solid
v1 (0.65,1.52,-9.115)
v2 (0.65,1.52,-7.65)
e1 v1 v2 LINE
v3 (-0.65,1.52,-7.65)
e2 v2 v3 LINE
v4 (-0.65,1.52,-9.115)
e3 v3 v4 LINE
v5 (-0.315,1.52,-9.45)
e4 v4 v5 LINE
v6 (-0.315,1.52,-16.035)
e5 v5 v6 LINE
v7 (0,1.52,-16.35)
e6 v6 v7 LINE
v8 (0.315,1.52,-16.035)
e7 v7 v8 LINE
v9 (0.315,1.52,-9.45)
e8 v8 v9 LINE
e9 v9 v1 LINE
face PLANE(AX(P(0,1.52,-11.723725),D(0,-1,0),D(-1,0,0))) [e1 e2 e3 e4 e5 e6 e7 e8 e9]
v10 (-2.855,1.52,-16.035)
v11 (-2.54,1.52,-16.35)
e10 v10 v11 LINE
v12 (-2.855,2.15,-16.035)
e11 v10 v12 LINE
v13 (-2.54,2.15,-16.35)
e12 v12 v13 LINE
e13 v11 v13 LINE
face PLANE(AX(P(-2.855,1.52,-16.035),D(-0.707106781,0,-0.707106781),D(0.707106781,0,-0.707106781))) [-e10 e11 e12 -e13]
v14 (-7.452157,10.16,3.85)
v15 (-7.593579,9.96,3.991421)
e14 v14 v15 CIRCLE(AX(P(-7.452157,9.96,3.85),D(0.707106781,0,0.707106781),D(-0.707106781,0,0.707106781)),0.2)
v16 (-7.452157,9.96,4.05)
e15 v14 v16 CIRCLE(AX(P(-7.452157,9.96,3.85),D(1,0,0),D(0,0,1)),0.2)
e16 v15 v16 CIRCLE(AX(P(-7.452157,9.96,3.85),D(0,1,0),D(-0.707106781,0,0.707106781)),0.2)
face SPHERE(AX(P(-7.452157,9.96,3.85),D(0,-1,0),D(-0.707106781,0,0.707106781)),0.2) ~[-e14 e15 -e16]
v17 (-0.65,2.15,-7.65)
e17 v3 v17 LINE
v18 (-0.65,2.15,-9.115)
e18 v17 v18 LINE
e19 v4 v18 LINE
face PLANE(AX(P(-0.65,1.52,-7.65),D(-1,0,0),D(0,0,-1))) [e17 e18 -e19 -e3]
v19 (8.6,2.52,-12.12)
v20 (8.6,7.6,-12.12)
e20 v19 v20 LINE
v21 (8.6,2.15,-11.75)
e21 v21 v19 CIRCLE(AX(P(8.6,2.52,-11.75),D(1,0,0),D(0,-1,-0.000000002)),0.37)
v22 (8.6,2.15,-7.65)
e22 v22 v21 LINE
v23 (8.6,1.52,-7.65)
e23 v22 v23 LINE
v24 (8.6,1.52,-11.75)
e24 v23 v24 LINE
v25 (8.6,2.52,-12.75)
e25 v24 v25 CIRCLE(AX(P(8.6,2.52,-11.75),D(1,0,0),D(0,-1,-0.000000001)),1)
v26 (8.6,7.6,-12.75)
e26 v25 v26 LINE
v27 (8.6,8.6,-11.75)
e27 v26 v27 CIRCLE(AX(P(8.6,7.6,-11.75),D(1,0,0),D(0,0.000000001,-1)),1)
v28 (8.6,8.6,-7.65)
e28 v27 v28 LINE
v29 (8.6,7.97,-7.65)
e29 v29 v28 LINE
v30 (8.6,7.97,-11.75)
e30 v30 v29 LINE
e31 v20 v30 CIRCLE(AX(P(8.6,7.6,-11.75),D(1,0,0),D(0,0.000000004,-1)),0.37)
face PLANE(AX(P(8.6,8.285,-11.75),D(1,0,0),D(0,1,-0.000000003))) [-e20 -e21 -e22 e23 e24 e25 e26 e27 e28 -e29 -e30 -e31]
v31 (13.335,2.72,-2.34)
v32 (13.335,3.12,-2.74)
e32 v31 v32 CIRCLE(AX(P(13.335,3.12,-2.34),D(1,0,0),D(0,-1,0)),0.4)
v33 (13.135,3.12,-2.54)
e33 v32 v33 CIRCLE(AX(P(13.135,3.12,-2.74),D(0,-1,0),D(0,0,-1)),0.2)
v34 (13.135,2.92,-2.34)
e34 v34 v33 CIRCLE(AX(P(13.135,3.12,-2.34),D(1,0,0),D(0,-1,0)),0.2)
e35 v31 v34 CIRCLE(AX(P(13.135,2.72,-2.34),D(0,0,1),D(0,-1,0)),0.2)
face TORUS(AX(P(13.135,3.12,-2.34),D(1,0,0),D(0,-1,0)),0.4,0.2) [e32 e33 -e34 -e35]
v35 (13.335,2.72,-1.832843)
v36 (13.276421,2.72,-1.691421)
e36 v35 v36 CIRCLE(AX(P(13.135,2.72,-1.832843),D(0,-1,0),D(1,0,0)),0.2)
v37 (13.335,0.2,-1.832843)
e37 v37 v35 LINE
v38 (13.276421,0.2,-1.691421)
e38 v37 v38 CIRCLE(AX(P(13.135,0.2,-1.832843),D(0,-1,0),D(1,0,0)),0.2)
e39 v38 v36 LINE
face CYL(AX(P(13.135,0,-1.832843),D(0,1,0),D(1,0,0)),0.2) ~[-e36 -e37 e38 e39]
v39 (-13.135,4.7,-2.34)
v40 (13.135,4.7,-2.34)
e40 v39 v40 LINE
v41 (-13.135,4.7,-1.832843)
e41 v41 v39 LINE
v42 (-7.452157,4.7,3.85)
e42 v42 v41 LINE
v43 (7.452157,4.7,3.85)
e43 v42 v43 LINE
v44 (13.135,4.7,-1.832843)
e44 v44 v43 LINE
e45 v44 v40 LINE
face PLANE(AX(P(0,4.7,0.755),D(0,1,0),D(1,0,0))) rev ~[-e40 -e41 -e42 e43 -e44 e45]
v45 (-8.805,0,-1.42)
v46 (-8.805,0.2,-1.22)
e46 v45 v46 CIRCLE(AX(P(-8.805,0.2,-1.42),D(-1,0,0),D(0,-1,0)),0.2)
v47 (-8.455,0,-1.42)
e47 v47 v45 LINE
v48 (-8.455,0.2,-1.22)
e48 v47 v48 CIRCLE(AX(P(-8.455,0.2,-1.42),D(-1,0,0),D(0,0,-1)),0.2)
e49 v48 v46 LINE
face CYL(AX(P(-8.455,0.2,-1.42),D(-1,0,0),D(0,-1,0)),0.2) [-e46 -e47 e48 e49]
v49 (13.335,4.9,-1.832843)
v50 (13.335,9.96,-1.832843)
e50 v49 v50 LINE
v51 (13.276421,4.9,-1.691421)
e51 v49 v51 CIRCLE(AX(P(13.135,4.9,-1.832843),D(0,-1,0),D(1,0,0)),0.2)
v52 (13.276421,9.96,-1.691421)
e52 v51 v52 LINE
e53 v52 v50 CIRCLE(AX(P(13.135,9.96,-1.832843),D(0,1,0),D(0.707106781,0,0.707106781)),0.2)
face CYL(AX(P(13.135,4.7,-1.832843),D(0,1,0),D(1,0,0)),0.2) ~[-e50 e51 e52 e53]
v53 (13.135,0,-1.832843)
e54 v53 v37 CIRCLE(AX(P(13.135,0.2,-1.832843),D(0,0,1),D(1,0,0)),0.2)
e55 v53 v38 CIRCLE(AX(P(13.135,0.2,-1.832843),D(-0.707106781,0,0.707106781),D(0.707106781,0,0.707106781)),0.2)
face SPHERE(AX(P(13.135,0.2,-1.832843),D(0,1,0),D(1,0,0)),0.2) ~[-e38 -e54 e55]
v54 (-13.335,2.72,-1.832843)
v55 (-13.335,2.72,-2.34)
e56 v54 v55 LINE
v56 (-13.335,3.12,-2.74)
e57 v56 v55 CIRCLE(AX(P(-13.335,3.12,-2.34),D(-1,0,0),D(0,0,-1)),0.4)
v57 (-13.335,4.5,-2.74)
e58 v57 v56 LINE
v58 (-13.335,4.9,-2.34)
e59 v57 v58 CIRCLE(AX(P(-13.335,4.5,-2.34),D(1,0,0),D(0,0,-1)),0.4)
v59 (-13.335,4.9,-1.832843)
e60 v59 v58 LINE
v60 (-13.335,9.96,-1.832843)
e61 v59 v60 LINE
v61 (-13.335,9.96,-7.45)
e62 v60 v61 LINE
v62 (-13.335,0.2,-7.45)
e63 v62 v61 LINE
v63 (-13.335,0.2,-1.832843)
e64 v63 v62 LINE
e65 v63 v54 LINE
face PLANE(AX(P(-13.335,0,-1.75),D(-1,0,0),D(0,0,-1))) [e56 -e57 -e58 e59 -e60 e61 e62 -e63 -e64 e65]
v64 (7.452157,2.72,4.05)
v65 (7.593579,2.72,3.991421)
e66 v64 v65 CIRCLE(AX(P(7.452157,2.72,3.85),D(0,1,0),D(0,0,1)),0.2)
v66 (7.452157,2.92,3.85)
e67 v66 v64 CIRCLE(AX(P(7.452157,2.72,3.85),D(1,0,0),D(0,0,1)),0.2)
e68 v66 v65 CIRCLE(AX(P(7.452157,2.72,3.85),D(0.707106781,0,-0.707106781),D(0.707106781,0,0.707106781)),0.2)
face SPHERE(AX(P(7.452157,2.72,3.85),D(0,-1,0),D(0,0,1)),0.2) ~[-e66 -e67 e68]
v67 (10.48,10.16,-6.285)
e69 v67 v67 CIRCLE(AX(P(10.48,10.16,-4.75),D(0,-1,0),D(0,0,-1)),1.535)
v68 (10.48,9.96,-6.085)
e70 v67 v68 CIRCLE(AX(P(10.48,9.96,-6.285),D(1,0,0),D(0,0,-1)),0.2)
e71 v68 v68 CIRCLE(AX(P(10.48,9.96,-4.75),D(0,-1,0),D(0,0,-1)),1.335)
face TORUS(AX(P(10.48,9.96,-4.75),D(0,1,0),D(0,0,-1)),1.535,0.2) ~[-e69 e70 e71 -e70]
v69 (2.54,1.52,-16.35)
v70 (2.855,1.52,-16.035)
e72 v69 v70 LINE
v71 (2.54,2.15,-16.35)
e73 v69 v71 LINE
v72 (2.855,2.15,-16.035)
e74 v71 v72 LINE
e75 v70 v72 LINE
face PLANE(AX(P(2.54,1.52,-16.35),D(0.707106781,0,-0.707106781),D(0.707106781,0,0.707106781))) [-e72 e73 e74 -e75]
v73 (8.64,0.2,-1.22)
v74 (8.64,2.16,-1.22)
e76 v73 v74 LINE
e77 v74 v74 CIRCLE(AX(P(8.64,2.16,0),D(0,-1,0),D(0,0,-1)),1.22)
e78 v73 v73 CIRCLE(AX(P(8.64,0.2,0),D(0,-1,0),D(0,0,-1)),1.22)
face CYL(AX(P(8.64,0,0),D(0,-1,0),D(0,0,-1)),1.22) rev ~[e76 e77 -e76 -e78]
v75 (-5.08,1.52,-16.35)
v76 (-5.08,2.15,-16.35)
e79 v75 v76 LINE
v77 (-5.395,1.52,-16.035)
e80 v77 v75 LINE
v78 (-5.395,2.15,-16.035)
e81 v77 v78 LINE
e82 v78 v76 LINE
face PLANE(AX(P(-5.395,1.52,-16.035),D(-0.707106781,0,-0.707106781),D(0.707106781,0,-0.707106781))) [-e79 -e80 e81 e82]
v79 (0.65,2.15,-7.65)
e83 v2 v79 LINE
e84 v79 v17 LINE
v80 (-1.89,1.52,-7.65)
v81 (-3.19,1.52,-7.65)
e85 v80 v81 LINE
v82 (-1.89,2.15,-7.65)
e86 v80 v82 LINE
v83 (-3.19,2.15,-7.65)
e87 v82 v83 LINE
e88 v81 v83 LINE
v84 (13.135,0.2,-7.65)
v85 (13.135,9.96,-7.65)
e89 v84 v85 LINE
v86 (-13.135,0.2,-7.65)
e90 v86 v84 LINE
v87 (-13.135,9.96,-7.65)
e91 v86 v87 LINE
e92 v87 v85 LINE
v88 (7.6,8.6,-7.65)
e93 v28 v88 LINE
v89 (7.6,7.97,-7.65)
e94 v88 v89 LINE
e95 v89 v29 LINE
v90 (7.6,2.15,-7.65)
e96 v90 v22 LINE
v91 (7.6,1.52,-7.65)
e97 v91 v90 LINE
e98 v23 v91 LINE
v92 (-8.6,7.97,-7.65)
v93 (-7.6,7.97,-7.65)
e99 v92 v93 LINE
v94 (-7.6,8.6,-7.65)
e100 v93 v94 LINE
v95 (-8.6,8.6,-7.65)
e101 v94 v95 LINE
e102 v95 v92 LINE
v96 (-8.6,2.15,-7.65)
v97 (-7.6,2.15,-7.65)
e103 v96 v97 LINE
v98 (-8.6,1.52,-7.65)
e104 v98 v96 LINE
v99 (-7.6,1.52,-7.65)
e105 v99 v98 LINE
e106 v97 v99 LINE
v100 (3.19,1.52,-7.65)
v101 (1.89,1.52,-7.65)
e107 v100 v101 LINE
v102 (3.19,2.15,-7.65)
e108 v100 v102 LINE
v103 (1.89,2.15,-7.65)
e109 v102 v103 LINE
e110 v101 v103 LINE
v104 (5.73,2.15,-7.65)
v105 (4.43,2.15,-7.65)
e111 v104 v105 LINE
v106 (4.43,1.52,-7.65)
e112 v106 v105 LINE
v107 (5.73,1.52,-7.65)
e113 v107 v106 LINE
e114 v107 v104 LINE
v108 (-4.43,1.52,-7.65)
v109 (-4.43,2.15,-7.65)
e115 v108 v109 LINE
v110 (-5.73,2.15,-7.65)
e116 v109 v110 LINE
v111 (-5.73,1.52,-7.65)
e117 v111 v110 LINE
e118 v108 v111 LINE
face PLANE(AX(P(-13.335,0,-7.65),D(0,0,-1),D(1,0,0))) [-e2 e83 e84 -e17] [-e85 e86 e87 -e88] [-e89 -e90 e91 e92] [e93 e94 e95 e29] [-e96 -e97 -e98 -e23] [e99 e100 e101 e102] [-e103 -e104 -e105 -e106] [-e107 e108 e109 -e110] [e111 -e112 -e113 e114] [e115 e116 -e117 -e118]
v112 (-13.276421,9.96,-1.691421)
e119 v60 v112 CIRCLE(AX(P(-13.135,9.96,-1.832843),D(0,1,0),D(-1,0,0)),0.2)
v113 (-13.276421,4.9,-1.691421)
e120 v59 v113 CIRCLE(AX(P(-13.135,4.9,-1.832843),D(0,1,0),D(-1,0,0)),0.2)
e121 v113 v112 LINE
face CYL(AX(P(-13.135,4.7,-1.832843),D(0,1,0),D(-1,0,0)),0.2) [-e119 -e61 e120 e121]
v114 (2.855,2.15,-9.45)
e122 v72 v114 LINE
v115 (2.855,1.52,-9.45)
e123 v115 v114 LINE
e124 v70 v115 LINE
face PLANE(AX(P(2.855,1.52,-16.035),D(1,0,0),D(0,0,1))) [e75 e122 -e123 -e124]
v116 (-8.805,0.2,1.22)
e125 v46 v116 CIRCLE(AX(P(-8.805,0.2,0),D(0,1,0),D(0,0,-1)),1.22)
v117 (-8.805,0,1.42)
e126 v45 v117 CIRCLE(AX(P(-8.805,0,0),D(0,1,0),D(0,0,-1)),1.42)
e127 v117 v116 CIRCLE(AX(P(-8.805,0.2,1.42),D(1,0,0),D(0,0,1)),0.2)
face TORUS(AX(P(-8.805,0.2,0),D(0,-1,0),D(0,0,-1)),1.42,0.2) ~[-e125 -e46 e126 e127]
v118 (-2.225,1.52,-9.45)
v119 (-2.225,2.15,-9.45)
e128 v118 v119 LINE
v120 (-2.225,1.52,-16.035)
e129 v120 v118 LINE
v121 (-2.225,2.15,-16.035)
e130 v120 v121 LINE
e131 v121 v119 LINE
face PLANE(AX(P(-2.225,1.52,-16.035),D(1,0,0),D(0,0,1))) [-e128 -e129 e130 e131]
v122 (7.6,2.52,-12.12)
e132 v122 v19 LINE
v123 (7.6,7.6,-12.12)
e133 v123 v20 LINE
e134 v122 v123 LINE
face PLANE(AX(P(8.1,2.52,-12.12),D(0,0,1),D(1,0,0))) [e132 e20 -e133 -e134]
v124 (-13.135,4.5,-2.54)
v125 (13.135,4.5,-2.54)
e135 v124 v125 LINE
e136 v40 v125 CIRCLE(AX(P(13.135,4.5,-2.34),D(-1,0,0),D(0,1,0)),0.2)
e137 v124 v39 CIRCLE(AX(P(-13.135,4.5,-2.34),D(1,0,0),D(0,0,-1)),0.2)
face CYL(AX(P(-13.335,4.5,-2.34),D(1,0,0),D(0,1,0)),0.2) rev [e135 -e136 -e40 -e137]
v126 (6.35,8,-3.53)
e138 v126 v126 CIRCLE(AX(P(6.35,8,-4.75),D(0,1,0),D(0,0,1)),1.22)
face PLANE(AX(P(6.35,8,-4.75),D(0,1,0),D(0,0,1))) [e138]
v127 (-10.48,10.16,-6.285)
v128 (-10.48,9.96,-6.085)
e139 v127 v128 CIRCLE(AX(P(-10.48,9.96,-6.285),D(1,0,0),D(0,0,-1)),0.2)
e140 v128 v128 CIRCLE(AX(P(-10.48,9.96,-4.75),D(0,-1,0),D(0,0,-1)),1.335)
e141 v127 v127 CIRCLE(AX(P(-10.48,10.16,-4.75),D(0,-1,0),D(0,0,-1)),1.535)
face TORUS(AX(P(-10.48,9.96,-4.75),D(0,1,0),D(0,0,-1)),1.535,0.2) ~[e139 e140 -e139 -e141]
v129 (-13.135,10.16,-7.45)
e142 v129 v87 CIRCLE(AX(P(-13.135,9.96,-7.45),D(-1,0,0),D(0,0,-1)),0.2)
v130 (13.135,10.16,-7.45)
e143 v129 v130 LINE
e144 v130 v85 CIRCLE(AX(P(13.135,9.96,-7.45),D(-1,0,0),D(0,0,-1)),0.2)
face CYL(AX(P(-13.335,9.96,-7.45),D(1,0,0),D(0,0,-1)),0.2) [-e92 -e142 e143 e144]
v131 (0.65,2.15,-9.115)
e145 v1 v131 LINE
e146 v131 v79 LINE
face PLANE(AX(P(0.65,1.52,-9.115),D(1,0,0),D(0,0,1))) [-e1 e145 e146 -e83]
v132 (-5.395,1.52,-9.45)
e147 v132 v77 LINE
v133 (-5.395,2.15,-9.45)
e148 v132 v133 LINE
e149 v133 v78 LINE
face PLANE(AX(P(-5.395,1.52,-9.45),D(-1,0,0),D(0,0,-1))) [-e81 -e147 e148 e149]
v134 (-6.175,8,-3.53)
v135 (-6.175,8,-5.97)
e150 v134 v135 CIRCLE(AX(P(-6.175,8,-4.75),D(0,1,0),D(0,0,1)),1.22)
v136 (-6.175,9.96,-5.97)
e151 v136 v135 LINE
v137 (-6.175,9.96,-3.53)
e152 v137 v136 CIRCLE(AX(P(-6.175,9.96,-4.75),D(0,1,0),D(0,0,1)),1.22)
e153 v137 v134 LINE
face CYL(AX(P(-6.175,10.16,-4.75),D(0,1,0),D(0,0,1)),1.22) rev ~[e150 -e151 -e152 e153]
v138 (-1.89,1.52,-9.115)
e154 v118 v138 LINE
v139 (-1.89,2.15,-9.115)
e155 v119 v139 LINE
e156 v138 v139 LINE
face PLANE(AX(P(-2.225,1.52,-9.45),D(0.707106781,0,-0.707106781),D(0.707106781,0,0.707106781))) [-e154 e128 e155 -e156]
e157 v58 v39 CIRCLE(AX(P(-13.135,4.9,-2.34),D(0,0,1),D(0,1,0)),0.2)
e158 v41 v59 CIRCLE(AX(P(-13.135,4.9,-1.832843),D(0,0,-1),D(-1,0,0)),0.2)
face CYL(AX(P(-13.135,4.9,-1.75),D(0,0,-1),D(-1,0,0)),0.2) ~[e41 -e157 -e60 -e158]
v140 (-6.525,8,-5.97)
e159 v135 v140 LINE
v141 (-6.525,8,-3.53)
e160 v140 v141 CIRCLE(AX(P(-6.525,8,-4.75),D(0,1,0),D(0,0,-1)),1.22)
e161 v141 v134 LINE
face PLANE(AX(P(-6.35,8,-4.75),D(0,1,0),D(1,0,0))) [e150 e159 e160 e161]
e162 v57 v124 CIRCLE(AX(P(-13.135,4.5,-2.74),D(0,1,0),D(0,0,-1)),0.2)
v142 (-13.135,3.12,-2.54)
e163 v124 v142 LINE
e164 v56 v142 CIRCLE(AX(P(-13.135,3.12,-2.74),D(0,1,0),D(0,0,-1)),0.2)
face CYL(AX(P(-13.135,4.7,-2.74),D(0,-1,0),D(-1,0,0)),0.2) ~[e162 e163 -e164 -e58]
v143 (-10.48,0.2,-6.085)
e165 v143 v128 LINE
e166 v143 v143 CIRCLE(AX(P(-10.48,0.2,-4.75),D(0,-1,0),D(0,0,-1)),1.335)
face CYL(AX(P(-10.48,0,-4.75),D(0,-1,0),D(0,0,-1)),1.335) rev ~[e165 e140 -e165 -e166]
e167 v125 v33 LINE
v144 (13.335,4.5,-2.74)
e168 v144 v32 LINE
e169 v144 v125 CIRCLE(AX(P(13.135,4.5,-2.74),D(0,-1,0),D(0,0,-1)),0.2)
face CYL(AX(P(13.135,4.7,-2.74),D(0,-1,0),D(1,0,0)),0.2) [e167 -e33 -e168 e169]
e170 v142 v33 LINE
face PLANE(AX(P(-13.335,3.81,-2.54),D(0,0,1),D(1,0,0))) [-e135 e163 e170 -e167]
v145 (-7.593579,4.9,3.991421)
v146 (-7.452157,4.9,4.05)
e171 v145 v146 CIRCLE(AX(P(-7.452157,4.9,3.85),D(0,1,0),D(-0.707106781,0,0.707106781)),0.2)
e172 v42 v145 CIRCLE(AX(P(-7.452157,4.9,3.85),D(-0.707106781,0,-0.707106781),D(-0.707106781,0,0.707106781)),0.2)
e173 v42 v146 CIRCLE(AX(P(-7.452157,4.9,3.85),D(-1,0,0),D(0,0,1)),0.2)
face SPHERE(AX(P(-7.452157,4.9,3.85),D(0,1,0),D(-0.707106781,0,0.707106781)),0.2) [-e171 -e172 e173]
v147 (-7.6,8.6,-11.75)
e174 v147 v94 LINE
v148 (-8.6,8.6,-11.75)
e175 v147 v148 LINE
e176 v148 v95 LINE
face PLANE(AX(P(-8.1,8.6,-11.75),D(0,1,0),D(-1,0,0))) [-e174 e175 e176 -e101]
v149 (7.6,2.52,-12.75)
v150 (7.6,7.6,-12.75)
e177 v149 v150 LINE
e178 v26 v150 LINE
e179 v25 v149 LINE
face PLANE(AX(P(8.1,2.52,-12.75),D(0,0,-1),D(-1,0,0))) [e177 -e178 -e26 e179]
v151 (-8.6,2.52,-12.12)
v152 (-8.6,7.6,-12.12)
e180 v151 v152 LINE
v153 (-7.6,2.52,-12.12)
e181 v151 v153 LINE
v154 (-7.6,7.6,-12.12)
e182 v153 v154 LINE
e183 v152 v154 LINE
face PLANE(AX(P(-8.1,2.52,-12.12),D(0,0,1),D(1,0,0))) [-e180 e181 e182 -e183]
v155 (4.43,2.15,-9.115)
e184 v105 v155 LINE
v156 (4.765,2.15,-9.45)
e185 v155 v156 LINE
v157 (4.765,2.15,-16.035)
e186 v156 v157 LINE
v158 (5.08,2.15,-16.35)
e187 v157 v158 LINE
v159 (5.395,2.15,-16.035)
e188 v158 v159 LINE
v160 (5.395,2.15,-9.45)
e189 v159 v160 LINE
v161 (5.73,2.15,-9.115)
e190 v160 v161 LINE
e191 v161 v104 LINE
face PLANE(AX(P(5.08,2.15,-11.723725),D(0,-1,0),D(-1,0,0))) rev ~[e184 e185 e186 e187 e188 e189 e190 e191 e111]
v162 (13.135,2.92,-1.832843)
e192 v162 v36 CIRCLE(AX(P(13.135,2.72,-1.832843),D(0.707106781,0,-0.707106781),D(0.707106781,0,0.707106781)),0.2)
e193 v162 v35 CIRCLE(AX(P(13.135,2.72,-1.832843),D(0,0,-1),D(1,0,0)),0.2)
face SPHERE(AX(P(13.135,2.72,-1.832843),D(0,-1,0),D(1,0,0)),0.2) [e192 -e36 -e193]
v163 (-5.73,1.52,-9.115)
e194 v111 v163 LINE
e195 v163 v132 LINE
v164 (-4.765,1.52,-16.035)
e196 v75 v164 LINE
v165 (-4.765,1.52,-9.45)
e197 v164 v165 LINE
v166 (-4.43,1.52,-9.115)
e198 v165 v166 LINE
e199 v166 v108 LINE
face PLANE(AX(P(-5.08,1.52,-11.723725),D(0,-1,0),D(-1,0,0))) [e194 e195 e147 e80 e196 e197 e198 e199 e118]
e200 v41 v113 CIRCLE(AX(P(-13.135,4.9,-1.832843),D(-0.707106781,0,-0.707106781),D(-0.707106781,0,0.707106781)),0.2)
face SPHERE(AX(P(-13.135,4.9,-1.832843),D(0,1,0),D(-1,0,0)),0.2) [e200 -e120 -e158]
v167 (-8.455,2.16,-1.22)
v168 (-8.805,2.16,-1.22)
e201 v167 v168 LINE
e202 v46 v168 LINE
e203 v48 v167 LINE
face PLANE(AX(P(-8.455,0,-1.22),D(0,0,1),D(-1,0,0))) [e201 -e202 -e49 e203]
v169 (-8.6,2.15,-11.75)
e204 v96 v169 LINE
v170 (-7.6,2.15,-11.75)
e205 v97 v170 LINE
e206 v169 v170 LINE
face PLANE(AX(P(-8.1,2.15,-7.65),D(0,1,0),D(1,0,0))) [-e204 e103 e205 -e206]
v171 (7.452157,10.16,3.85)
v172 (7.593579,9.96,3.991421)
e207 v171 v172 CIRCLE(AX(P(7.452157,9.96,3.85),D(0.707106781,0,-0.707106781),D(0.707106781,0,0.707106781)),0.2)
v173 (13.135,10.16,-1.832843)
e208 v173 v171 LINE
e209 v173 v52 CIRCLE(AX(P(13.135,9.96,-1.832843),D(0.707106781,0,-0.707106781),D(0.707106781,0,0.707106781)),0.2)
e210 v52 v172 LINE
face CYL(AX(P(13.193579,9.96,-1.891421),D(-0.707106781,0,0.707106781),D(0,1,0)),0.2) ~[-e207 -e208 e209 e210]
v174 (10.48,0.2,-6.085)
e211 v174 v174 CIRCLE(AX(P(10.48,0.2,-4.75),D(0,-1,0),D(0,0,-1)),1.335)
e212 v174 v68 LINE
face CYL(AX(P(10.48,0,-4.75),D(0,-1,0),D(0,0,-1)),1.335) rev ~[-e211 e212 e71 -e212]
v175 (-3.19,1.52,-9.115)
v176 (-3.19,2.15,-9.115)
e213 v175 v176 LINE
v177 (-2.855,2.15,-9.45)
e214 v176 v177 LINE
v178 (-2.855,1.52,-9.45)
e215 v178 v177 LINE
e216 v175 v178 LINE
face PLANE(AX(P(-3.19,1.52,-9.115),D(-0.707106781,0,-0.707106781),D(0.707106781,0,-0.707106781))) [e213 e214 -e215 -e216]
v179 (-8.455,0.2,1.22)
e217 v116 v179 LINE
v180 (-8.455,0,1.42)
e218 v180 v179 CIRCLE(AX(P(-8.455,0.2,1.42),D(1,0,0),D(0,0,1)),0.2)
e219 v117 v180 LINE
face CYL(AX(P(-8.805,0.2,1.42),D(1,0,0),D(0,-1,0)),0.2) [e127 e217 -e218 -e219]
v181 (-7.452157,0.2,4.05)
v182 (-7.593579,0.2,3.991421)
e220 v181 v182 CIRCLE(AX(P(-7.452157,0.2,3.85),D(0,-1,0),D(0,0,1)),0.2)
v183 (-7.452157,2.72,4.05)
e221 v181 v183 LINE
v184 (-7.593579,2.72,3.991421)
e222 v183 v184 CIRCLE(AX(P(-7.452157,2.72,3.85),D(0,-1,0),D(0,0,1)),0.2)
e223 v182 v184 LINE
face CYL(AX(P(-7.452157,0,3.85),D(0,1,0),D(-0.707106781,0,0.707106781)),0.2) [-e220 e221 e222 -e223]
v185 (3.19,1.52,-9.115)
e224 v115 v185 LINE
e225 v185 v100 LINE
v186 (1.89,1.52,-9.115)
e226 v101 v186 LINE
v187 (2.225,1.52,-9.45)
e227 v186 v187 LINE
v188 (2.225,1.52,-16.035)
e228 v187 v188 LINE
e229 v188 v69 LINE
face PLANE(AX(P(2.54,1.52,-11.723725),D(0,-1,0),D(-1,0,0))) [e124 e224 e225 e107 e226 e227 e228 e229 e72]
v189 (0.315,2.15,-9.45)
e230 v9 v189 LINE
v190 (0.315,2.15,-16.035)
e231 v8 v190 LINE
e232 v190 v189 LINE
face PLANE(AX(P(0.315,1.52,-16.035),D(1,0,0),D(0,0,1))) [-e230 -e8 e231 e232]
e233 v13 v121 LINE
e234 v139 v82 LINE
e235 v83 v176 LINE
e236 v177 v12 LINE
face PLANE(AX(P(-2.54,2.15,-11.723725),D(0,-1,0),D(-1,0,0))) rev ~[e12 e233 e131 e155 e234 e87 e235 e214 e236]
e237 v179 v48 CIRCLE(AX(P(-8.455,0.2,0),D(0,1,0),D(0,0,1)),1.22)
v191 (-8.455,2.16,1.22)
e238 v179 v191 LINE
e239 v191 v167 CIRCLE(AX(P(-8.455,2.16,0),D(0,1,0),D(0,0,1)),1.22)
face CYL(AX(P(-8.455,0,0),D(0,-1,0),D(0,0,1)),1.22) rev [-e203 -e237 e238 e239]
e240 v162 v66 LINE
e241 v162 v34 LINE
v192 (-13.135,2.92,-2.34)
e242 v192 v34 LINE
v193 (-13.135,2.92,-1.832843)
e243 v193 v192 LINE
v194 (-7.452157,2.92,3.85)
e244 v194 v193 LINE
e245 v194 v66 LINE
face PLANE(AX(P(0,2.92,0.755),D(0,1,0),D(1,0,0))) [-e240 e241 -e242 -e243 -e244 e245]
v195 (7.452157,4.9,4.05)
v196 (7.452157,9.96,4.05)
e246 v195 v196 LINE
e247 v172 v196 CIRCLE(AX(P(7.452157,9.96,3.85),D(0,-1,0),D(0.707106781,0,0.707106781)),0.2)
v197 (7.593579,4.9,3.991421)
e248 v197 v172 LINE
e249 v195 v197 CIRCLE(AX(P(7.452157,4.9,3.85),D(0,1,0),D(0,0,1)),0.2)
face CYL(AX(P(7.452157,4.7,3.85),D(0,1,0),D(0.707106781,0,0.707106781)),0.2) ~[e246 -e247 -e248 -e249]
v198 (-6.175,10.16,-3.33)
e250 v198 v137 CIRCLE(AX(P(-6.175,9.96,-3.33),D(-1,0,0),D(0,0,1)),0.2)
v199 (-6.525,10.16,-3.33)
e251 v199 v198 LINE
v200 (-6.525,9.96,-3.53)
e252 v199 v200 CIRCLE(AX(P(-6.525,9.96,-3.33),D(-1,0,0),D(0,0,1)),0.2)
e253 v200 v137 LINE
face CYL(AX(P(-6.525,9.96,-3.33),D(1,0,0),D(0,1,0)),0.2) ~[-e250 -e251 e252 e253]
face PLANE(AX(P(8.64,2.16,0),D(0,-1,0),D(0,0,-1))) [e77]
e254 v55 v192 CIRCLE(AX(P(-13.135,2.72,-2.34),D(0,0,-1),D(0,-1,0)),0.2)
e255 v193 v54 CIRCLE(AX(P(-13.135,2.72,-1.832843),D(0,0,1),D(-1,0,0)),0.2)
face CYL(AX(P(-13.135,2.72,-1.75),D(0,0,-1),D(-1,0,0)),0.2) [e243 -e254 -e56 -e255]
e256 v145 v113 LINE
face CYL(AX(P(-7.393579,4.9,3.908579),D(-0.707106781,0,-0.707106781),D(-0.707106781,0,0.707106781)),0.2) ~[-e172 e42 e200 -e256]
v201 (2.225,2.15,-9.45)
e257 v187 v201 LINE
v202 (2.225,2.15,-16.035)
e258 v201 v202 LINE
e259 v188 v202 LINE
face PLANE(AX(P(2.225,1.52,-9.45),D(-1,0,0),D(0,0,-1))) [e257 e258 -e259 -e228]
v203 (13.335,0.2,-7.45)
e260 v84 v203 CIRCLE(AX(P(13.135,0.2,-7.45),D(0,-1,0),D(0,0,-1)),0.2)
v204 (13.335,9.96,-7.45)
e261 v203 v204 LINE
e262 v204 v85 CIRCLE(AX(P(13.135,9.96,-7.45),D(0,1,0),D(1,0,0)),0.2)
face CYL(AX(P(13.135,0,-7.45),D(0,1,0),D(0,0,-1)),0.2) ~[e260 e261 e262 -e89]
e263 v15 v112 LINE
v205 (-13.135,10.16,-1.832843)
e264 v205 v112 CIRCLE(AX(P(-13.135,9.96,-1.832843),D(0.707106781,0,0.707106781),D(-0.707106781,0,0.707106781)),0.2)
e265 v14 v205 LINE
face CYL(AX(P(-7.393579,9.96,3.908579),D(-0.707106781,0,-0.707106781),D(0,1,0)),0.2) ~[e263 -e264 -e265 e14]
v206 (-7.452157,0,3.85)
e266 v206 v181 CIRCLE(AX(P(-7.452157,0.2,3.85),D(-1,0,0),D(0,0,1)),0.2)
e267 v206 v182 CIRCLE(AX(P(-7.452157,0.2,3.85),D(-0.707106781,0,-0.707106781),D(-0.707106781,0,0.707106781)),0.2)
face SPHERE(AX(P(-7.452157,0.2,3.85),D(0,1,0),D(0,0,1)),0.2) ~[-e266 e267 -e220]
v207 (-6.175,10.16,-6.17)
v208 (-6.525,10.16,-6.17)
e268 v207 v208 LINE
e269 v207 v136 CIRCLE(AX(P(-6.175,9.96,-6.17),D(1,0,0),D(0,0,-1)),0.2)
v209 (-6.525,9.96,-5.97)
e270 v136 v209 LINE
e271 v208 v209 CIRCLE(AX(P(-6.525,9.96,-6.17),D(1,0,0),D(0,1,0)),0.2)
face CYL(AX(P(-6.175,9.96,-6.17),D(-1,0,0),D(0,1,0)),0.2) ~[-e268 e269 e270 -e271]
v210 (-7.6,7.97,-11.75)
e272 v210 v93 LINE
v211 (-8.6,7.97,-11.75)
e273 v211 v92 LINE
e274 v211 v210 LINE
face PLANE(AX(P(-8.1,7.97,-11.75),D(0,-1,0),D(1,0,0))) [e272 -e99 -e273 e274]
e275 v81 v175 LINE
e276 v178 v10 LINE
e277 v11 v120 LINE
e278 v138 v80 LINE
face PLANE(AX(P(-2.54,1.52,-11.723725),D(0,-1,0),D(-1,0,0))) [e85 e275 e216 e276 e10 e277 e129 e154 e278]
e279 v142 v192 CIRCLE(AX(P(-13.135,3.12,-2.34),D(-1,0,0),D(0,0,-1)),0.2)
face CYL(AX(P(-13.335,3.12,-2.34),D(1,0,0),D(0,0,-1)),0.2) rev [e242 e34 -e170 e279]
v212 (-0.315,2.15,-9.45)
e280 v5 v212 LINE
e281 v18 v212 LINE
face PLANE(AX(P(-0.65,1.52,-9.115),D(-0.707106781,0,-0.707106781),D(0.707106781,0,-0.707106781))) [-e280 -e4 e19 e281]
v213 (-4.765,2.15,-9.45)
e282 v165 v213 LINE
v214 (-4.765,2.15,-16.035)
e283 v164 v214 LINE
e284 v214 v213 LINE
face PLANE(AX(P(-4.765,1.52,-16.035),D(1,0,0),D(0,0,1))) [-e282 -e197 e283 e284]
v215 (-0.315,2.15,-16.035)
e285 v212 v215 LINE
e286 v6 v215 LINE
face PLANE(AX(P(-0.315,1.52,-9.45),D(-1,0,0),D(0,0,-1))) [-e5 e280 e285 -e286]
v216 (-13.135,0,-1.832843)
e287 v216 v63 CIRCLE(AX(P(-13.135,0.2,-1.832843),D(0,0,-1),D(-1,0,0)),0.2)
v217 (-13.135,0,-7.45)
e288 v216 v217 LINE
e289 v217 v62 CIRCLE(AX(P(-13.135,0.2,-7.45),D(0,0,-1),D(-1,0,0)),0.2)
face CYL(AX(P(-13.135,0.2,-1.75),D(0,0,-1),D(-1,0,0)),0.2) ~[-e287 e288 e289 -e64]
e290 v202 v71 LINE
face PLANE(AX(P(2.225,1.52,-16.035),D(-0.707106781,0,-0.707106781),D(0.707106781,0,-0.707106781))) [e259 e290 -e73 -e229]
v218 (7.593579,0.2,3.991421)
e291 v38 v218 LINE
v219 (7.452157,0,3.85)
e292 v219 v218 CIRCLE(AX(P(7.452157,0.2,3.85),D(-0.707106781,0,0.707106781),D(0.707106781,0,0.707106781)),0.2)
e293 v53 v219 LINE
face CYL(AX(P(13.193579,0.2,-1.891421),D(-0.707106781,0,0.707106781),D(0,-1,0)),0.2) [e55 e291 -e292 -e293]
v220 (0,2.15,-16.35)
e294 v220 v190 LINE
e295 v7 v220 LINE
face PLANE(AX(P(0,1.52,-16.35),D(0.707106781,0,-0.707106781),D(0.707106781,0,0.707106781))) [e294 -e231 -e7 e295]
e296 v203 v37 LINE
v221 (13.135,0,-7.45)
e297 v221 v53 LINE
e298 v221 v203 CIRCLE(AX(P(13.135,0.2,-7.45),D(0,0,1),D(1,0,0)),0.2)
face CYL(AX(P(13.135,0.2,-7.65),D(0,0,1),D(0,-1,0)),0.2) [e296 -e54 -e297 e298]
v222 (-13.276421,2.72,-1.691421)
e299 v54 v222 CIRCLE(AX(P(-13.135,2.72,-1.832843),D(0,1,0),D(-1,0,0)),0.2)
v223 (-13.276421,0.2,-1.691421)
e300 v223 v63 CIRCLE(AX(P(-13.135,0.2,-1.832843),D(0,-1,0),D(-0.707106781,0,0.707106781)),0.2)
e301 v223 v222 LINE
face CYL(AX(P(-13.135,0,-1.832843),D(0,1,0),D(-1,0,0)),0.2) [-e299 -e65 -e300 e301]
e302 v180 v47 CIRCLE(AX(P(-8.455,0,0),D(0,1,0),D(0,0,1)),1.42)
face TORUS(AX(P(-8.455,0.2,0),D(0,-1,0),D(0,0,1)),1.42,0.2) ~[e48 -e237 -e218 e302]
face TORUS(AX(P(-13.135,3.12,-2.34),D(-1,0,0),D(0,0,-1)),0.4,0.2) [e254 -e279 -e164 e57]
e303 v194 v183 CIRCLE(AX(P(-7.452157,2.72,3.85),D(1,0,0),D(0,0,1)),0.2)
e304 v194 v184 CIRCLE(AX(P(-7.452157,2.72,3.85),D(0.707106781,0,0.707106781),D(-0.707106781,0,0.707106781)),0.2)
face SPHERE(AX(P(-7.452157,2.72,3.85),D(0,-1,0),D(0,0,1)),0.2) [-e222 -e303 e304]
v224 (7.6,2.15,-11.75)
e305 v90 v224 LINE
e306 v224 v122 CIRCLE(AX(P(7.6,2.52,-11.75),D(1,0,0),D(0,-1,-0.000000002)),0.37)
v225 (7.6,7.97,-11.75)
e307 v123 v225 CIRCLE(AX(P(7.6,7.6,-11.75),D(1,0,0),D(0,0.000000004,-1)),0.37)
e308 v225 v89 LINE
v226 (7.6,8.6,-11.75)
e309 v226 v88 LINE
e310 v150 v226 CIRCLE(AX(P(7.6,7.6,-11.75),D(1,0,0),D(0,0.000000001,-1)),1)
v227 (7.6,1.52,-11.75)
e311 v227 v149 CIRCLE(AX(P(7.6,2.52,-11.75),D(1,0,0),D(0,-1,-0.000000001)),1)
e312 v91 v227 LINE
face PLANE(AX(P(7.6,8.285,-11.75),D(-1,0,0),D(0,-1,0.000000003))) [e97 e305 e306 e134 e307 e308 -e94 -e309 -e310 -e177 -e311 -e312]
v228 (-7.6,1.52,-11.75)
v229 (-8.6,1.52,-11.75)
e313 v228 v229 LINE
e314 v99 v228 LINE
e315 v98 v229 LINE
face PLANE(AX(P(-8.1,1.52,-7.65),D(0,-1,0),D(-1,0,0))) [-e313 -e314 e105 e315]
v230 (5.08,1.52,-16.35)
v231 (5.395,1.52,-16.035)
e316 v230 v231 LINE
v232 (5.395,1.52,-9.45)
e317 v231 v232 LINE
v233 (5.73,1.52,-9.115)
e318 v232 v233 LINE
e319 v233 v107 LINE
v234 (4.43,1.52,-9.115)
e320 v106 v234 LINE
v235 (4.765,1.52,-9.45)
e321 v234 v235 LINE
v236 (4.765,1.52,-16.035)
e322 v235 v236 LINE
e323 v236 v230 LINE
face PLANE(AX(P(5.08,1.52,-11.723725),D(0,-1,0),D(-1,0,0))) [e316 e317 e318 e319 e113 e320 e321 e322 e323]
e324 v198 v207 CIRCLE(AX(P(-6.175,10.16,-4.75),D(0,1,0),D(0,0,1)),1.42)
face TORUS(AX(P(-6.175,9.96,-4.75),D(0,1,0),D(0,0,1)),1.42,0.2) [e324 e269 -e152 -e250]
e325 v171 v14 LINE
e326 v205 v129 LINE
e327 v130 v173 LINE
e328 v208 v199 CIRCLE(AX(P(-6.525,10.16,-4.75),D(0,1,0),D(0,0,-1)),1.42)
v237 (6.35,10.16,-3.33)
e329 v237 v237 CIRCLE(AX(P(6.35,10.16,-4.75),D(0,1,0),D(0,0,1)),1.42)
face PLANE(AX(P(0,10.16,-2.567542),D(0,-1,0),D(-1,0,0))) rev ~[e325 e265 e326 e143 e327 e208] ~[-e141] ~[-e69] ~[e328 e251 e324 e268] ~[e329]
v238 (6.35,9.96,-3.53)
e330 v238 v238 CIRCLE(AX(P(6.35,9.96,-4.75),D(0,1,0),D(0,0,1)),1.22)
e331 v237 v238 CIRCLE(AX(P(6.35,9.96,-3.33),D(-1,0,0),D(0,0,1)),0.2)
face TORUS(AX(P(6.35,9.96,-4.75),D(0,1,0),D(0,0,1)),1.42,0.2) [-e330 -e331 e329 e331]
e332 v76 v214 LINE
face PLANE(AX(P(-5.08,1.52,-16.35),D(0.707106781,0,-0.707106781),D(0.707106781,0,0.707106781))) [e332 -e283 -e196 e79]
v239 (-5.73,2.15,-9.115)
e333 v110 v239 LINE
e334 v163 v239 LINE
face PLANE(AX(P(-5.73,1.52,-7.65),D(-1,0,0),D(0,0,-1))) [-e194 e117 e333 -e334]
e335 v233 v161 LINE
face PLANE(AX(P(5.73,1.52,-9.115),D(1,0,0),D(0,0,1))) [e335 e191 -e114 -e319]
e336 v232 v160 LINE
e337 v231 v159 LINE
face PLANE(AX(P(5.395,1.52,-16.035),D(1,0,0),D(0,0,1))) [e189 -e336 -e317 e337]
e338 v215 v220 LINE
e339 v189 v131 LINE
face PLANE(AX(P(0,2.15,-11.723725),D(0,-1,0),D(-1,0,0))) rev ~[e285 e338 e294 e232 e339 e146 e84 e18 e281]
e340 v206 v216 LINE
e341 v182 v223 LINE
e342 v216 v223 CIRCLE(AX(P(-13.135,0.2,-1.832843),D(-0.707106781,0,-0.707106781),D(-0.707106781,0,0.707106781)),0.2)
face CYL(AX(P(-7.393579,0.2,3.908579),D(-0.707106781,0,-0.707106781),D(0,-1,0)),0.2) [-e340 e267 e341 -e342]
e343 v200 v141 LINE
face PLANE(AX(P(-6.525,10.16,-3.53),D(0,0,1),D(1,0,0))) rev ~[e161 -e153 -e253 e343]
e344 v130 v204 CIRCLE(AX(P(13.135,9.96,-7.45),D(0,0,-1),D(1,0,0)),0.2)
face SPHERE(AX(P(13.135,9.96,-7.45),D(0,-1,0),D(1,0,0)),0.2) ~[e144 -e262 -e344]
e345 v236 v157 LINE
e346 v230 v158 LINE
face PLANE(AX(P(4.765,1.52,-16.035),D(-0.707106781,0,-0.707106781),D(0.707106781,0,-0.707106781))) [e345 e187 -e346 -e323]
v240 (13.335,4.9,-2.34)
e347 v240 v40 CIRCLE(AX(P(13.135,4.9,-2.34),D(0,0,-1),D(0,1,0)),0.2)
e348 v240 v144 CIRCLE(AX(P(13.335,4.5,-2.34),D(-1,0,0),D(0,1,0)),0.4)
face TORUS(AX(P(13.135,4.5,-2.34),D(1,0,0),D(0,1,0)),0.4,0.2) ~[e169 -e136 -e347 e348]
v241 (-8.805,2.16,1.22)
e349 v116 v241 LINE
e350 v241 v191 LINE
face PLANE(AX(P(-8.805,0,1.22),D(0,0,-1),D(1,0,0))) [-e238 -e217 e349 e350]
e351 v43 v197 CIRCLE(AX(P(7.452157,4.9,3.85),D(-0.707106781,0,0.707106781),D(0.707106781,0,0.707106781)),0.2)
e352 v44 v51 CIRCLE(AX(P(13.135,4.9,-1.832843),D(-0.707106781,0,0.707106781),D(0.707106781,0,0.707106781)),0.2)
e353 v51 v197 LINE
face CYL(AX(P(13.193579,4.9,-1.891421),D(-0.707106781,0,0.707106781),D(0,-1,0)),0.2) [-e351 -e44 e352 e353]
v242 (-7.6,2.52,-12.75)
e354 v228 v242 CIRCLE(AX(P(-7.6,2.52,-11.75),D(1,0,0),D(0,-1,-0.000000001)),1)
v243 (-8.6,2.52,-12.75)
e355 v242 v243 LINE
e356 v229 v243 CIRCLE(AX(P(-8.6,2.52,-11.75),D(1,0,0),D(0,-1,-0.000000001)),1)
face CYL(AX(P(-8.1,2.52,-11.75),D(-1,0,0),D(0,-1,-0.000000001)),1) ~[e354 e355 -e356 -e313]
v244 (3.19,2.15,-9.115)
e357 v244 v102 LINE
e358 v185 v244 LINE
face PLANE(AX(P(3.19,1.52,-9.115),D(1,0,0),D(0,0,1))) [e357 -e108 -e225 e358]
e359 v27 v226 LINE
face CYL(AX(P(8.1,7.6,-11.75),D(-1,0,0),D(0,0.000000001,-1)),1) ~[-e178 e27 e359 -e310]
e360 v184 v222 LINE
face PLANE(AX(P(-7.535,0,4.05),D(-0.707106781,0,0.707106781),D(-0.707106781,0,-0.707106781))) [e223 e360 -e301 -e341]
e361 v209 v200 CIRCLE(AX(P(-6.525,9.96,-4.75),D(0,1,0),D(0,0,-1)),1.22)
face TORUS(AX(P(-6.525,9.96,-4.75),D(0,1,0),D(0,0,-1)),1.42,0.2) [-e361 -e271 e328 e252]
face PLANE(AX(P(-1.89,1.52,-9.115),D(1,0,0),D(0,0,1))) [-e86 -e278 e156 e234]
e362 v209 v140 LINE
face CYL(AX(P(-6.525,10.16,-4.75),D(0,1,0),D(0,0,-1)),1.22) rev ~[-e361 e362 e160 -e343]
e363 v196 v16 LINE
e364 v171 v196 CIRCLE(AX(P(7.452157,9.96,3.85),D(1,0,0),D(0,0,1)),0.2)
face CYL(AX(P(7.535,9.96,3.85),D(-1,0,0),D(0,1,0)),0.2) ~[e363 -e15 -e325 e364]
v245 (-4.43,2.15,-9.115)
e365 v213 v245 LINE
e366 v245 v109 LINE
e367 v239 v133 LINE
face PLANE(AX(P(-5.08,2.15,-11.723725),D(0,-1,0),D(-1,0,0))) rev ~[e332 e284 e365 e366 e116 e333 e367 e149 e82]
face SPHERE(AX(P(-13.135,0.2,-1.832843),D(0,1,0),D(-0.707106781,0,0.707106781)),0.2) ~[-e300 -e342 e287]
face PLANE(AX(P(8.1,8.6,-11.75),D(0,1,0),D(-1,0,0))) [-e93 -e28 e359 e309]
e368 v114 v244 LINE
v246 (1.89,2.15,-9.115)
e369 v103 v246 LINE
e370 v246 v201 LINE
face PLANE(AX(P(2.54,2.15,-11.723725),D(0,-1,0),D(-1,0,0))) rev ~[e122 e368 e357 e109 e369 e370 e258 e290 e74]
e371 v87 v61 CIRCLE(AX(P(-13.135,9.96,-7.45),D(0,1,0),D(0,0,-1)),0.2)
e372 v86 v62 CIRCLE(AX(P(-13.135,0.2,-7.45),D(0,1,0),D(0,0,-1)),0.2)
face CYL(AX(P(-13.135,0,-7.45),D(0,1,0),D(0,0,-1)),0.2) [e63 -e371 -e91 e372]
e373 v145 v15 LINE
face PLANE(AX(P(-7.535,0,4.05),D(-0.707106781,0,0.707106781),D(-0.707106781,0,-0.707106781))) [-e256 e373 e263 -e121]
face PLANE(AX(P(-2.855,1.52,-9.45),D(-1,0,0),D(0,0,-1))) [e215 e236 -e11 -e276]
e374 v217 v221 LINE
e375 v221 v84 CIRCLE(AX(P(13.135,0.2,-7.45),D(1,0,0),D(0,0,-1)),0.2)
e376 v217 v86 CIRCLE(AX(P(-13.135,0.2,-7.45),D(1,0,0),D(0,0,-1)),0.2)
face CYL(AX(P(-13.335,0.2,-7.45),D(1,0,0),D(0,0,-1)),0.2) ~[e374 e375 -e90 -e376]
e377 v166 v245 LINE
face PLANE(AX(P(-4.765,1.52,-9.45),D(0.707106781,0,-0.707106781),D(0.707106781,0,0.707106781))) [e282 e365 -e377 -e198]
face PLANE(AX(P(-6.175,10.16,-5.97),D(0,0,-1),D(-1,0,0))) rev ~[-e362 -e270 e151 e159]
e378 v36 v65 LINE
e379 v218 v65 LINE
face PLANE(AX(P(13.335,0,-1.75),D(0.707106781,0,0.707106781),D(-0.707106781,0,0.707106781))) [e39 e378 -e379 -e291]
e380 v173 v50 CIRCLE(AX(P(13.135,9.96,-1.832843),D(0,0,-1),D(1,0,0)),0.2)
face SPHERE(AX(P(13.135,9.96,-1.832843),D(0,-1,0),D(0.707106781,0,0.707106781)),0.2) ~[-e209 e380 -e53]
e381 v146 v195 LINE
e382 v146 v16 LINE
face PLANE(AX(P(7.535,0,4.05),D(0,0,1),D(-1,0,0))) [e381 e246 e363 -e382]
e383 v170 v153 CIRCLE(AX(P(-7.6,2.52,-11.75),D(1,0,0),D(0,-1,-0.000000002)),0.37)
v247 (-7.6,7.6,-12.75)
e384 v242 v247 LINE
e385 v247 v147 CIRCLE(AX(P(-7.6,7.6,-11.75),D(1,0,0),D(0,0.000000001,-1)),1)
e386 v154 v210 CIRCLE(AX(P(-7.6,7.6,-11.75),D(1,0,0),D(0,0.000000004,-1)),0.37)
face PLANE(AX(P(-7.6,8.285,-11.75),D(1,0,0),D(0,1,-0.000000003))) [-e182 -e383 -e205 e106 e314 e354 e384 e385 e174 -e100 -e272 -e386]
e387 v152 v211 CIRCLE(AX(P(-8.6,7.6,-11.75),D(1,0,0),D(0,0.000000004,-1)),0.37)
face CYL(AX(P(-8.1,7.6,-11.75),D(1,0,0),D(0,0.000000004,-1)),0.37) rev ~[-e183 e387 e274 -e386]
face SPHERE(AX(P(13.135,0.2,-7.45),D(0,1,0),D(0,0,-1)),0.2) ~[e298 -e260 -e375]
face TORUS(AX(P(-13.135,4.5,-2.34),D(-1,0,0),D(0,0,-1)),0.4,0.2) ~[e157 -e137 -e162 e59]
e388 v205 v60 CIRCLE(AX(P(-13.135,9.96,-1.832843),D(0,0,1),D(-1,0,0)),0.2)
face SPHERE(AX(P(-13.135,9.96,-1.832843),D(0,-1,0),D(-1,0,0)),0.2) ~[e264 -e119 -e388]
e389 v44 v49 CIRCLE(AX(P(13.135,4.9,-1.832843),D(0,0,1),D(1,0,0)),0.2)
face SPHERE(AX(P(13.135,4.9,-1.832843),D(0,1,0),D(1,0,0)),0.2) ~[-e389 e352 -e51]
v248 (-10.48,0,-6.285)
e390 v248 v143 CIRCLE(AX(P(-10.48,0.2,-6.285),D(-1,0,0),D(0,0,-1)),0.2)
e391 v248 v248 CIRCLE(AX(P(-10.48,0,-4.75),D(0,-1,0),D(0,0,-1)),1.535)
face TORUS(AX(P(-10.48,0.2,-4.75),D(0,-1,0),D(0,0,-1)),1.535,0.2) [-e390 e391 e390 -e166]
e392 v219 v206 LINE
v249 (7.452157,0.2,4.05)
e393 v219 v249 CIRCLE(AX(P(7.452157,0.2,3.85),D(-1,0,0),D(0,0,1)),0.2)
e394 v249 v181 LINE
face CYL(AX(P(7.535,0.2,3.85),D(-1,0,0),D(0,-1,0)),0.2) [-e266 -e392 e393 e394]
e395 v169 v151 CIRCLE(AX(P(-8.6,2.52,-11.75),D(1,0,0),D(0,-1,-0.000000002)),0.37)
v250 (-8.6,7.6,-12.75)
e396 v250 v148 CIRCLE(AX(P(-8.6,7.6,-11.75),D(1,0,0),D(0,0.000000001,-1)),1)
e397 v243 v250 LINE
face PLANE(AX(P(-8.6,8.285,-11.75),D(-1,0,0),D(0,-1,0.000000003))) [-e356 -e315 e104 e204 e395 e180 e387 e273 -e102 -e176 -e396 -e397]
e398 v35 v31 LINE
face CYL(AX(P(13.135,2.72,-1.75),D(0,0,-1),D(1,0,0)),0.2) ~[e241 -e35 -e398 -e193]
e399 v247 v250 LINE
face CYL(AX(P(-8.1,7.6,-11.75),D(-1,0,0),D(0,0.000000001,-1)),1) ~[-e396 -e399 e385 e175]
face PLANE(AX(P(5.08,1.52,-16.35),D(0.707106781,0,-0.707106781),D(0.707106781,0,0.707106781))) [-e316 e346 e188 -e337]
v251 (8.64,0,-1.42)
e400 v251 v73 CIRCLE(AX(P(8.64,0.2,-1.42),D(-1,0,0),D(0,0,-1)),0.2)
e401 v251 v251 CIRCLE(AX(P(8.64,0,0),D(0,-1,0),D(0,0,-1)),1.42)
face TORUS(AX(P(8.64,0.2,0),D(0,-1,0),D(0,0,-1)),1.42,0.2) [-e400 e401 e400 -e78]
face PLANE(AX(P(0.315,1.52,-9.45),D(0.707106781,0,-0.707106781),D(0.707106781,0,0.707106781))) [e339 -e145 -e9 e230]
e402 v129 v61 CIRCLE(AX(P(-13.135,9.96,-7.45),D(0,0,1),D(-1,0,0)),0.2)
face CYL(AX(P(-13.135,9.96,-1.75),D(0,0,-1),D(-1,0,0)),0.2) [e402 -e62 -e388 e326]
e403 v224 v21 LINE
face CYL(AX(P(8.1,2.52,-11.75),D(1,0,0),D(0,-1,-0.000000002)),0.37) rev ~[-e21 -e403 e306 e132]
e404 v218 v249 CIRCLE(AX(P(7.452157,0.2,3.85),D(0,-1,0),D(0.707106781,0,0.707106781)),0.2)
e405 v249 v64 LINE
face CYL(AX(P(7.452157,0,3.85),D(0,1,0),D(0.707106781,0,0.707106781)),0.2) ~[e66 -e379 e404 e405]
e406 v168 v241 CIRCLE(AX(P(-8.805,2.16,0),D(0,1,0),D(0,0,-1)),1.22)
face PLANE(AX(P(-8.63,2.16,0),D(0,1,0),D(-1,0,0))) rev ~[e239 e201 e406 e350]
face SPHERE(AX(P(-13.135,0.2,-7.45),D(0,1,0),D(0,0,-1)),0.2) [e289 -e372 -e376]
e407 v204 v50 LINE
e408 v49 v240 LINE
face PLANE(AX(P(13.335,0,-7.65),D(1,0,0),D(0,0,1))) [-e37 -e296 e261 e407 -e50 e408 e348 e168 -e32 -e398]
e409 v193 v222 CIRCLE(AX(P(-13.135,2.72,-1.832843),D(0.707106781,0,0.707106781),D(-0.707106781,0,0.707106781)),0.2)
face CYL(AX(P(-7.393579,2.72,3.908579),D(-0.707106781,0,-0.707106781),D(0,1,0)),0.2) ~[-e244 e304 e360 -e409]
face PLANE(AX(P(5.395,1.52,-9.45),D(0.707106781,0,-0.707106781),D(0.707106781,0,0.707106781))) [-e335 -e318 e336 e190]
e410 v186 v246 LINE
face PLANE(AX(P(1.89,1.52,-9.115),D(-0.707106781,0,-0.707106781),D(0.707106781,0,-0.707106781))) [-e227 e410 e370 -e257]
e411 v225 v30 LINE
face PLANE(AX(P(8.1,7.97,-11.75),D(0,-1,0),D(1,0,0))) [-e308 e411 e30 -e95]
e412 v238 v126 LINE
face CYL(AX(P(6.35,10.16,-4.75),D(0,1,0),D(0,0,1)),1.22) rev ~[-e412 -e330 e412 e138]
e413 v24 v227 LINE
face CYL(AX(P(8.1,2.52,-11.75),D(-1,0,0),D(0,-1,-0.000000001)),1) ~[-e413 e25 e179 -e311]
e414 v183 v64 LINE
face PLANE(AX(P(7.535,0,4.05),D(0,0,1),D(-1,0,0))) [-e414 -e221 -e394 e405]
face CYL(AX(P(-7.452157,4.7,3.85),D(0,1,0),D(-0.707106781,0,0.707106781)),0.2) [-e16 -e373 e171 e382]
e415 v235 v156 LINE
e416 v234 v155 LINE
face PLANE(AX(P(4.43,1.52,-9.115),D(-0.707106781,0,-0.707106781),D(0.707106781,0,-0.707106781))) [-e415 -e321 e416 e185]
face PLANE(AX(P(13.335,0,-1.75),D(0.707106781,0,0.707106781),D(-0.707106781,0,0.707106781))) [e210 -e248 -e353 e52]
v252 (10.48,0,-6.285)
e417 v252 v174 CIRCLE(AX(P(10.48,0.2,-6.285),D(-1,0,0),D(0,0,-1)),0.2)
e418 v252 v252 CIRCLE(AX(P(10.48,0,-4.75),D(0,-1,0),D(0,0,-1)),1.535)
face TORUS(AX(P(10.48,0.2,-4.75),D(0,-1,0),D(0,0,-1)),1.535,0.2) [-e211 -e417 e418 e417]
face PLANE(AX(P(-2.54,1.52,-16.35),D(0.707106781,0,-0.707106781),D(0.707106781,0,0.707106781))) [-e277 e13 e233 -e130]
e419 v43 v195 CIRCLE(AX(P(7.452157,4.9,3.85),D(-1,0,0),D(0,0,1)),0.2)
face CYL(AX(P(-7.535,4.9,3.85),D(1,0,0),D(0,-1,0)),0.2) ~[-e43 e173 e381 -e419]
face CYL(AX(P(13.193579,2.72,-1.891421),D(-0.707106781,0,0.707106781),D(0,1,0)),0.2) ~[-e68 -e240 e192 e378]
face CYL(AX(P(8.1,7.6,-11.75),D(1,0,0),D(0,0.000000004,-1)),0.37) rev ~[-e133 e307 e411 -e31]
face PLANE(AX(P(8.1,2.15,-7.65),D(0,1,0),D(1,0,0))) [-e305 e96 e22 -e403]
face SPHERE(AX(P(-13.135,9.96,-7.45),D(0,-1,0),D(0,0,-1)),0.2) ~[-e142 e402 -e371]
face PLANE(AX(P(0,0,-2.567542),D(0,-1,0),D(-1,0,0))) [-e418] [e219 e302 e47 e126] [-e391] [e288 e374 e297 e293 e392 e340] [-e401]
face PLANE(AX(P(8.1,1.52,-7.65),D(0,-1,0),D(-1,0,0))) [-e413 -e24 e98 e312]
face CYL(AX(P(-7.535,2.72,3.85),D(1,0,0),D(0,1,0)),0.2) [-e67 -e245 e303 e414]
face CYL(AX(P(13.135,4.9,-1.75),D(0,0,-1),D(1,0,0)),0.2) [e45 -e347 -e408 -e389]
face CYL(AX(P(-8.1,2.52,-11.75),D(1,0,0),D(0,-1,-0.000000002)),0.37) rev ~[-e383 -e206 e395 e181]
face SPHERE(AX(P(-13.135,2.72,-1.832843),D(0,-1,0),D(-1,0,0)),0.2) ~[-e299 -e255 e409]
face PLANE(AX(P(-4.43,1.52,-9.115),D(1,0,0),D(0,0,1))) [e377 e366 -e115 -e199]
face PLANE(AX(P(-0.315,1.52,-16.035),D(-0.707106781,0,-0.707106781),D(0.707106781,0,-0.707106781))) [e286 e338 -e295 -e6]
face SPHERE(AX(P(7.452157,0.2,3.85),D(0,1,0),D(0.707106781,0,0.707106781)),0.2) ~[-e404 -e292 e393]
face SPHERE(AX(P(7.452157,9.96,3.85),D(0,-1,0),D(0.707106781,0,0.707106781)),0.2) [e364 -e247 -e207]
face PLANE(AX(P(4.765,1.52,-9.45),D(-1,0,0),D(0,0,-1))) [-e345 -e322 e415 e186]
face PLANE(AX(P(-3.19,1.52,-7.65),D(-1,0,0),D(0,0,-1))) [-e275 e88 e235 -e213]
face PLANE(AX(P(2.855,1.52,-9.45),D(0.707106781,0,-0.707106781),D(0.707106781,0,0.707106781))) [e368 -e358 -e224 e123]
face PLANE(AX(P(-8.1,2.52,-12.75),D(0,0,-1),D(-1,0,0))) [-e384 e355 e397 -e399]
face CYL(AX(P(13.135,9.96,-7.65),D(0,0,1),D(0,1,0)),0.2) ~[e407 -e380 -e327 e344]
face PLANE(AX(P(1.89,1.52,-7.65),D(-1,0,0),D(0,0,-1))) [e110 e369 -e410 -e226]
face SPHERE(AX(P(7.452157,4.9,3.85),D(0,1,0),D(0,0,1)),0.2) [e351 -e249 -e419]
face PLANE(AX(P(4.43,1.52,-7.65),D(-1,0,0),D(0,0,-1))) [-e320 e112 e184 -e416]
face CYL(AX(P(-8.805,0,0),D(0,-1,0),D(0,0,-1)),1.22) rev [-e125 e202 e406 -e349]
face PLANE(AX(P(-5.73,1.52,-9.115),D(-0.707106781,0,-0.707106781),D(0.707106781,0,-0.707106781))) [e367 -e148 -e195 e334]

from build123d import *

# Parameters (mm, degrees)
BOSS_EXTRUDE1_DEPTH = 10.16
SKETCH2_W           = 26.67
SKETCH2_H           = 6.59
CUT_EXTRUDE1_DEPTH  = 0.89
BOSS_EXTRUDE2_DEPTH = 0.63
LPATTERN1_COUNT     = 3
LPATTERN1_PITCH     = 2.54
LPATTERN1_COL_COUNT = 3
LPATTERN1_COL_PITCH = 2.54
SKETCH4_R           = 1.335
CUT_EXTRUDE2_DEPTH  = 24.417308236
SKETCH5_R           = 1.22
CUT_EXTRUDE3_DEPTH  = 2.16
SKETCH6_W           = 1
SKETCH6_H           = 0.63
LPATTERN3_COUNT     = 2
LPATTERN3_PITCH     = 16.2
SKETCH8_R           = 1.22
CUT_EXTRUDE4_DEPTH  = 2.16
FILLET2_R           = 0.2
FILLET3_R           = 0.2


with BuildPart() as part:
    # Sketch1 → Boss-Extrude1 (new body)
    with BuildSketch(Plane(origin=(0, 0, 0), x_dir=(1, 0, 0), z_dir=(0, 1, 0))):
        Polygon((-13.335, 7.65), (13.335, 7.65), (13.335, 1.75), (7.535, -4.05), (-7.535, -4.05), (-13.335, 1.75), align=None)
    extrude(amount=BOSS_EXTRUDE1_DEPTH)

    # Sketch2 → Cut-Extrude1 (cut, symmetric)
    with BuildSketch(Plane(origin=(0, 3.81, 0), x_dir=(1, 0, 0), z_dir=(0, 1, 0))):
        with Locations((0, -0.755)):
            Rectangle(SKETCH2_W, SKETCH2_H)
    extrude(amount=CUT_EXTRUDE1_DEPTH, both=True, mode=Mode.SUBTRACT)

    # Sketch3 → Boss-Extrude2 (add)
    with BuildSketch(Plane(origin=(0, 1.52, 0), x_dir=(1, 0, 0), z_dir=(0, 1, 0))):
        Polygon((-0.65, 7.65), (-0.65, 9.115), (-0.315, 9.45), (-0.315, 16.035), (0, 16.35), (0.315, 16.035), (0.315, 9.45), (0.65, 9.115), (0.65, 7.65), align=None)
    boss_extrude2 = extrude(amount=BOSS_EXTRUDE2_DEPTH)

    # LPattern1: Boss-Extrude2 ×3
    with Locations(*[(i * LPATTERN1_PITCH, 0, 0) for i in range(1, LPATTERN1_COUNT)]):
        add(boss_extrude2)

    # LPattern1 col: Boss-Extrude2 ×3
    with Locations(*[(-i * LPATTERN1_COL_PITCH, 0, 0) for i in range(1, LPATTERN1_COL_COUNT)]):
        add(boss_extrude2)

    # Sketch4 → Cut-Extrude2 (cut, through all)
    with BuildSketch(Plane.XZ):
        with Locations(Location((10.48, -4.75, 0), (0, 0, 270))):
            Circle(SKETCH4_R)
        with Locations(Location((-10.48, -4.75, 0), (0, 0, 270))):
            Circle(SKETCH4_R)
    extrude(amount=-CUT_EXTRUDE2_DEPTH, mode=Mode.SUBTRACT)

    # Sketch5 → Cut-Extrude3 (cut)
    with BuildSketch(Plane.XZ):
        with Locations(Location((8.64, 0, 0), (0, 0, 270))):
            Circle(SKETCH5_R)
        with BuildLine():
            Line((-8.455, -1.22), (-8.805, -1.22))
            ThreePointArc((-8.805, -1.22), (-10.025, 0), (-8.805, 1.22))
            Line((-8.805, 1.22), (-8.455, 1.22))
            ThreePointArc((-8.455, 1.22), (-7.235, 0), (-8.455, -1.22))
        make_face()
    extrude(amount=-CUT_EXTRUDE3_DEPTH, mode=Mode.SUBTRACT)

    # Sweep1: sweep along a path in Sketch7
    with BuildLine(Plane(origin=(-7.6, 0, 0), x_dir=(0, 0, -1), z_dir=(1, 0, 0))) as sweep1_path:
        Line((7.65, 1.52), (11.75, 1.52))
        ThreePointArc((11.75, 1.52), (12.457106781, 1.812893219), (12.75, 2.52))
        Line((12.75, 2.52), (12.75, 7.6))
        ThreePointArc((12.75, 7.6), (12.457106781, 8.307106781), (11.75, 8.6))
        Line((11.75, 8.6), (7.65, 8.6))
    # Sketch6 → Sweep1 (sweep)
    with BuildSketch(Plane(origin=(0, 0, -7.65), x_dir=(-1, 0, 0), z_dir=(0, 0, -1))):
        with Locations((8.1, 1.835)):
            Rectangle(SKETCH6_W, SKETCH6_H)
    sweep1 = sweep(path=sweep1_path.line)

    # LPattern3: Sweep1 ×2
    with Locations(*[(i * LPATTERN3_PITCH, 0, 0) for i in range(1, LPATTERN3_COUNT)]):
        add(sweep1)

    # Sketch8 → Cut-Extrude4 (cut)
    with BuildSketch(Plane(origin=(0, 10.16, 0), x_dir=(1, 0, 0), z_dir=(0, 1, 0))):
        with Locations(Location((6.35, 4.75, 0), (0, 0, 270))):
            Circle(SKETCH8_R)
        with BuildLine():
            Line((-6.175, 5.97), (-6.525, 5.97))
            ThreePointArc((-6.525, 5.97), (-7.745, 4.75), (-6.525, 3.53))
            Line((-6.525, 3.53), (-6.175, 3.53))
            ThreePointArc((-6.175, 3.53), (-4.955, 4.75), (-6.175, 5.97))
        make_face()
    extrude(amount=-CUT_EXTRUDE4_DEPTH, mode=Mode.SUBTRACT)

    # Fillet2
    fillet2_edges = [part.edges().sort_by_distance(p)[0] for p in [
        (0, 10.16, 4.05),
        (-13.335, 5.08, -7.65),
        (13.335, 5.08, -7.65),
        (13.335, 7.43, -1.75),
        (7.535, 7.43, 4.05),
        (-7.535, 7.43, 4.05),
        (-13.335, 7.43, -1.75),
        (10.435, 10.16, 1.15),
        (13.335, 10.16, -4.7),
        (13.335, 1.46, -1.75),
        (13.335, 4.7, -2.145),
        (0, 10.16, -7.65),
        (13.335, 2.92, -2.145),
        (7.535, 1.46, 4.05),
        (-7.535, 1.46, 4.05),
        (-13.335, 1.46, -1.75),
        (-13.335, 2.92, -2.145),
        (13.335, 3.81, -2.54),
        (0, 2.92, 4.05),
        (-10.435, 2.92, 1.15),
        (-13.335, 4.7, -2.145),
        (-10.435, 4.7, 1.15),
        (0, 4.7, 4.05),
        (10.435, 4.7, 1.15),
        (0, 4.7, -2.54),
        (0, 2.92, -2.54),
        (-13.335, 3.81, -2.54),
        (10.435, 2.92, 1.15),
        (-13.335, 10.16, -4.7),
        (0, 0, -7.65),
        (13.335, 0, -4.7),
        (10.435, 0, 1.15),
        (-10.435, 10.16, 1.15),
        (0, 0, 4.05),
        (-10.435, 0, 1.15),
        (-13.335, 0, -4.7),
    ]]
    fillet(fillet2_edges, radius=FILLET2_R)

    # Fillet3
    fillet3_edges = [part.edges().sort_by_distance(p)[0] for p in [
        (10.48, 10.16, -3.415),
        (10.48, 0, -3.415),
        (-10.48, 10.16, -3.415),
        (-10.48, 0, -3.415),
        (8.64, 0, 1.22),
        (-7.235, 0, 0),
        (-8.63, 0, 1.22),
        (-10.025, 0, 0),
        (-8.63, 0, -1.22),
        (6.35, 10.16, -5.97),
        (-4.955, 10.16, -4.75),
        (-6.35, 10.16, -5.97),
        (-7.745, 10.16, -4.75),
        (-6.35, 10.16, -3.53),
    ]]
    fillet(fillet3_edges, radius=FILLET3_R)


solid = part.part
